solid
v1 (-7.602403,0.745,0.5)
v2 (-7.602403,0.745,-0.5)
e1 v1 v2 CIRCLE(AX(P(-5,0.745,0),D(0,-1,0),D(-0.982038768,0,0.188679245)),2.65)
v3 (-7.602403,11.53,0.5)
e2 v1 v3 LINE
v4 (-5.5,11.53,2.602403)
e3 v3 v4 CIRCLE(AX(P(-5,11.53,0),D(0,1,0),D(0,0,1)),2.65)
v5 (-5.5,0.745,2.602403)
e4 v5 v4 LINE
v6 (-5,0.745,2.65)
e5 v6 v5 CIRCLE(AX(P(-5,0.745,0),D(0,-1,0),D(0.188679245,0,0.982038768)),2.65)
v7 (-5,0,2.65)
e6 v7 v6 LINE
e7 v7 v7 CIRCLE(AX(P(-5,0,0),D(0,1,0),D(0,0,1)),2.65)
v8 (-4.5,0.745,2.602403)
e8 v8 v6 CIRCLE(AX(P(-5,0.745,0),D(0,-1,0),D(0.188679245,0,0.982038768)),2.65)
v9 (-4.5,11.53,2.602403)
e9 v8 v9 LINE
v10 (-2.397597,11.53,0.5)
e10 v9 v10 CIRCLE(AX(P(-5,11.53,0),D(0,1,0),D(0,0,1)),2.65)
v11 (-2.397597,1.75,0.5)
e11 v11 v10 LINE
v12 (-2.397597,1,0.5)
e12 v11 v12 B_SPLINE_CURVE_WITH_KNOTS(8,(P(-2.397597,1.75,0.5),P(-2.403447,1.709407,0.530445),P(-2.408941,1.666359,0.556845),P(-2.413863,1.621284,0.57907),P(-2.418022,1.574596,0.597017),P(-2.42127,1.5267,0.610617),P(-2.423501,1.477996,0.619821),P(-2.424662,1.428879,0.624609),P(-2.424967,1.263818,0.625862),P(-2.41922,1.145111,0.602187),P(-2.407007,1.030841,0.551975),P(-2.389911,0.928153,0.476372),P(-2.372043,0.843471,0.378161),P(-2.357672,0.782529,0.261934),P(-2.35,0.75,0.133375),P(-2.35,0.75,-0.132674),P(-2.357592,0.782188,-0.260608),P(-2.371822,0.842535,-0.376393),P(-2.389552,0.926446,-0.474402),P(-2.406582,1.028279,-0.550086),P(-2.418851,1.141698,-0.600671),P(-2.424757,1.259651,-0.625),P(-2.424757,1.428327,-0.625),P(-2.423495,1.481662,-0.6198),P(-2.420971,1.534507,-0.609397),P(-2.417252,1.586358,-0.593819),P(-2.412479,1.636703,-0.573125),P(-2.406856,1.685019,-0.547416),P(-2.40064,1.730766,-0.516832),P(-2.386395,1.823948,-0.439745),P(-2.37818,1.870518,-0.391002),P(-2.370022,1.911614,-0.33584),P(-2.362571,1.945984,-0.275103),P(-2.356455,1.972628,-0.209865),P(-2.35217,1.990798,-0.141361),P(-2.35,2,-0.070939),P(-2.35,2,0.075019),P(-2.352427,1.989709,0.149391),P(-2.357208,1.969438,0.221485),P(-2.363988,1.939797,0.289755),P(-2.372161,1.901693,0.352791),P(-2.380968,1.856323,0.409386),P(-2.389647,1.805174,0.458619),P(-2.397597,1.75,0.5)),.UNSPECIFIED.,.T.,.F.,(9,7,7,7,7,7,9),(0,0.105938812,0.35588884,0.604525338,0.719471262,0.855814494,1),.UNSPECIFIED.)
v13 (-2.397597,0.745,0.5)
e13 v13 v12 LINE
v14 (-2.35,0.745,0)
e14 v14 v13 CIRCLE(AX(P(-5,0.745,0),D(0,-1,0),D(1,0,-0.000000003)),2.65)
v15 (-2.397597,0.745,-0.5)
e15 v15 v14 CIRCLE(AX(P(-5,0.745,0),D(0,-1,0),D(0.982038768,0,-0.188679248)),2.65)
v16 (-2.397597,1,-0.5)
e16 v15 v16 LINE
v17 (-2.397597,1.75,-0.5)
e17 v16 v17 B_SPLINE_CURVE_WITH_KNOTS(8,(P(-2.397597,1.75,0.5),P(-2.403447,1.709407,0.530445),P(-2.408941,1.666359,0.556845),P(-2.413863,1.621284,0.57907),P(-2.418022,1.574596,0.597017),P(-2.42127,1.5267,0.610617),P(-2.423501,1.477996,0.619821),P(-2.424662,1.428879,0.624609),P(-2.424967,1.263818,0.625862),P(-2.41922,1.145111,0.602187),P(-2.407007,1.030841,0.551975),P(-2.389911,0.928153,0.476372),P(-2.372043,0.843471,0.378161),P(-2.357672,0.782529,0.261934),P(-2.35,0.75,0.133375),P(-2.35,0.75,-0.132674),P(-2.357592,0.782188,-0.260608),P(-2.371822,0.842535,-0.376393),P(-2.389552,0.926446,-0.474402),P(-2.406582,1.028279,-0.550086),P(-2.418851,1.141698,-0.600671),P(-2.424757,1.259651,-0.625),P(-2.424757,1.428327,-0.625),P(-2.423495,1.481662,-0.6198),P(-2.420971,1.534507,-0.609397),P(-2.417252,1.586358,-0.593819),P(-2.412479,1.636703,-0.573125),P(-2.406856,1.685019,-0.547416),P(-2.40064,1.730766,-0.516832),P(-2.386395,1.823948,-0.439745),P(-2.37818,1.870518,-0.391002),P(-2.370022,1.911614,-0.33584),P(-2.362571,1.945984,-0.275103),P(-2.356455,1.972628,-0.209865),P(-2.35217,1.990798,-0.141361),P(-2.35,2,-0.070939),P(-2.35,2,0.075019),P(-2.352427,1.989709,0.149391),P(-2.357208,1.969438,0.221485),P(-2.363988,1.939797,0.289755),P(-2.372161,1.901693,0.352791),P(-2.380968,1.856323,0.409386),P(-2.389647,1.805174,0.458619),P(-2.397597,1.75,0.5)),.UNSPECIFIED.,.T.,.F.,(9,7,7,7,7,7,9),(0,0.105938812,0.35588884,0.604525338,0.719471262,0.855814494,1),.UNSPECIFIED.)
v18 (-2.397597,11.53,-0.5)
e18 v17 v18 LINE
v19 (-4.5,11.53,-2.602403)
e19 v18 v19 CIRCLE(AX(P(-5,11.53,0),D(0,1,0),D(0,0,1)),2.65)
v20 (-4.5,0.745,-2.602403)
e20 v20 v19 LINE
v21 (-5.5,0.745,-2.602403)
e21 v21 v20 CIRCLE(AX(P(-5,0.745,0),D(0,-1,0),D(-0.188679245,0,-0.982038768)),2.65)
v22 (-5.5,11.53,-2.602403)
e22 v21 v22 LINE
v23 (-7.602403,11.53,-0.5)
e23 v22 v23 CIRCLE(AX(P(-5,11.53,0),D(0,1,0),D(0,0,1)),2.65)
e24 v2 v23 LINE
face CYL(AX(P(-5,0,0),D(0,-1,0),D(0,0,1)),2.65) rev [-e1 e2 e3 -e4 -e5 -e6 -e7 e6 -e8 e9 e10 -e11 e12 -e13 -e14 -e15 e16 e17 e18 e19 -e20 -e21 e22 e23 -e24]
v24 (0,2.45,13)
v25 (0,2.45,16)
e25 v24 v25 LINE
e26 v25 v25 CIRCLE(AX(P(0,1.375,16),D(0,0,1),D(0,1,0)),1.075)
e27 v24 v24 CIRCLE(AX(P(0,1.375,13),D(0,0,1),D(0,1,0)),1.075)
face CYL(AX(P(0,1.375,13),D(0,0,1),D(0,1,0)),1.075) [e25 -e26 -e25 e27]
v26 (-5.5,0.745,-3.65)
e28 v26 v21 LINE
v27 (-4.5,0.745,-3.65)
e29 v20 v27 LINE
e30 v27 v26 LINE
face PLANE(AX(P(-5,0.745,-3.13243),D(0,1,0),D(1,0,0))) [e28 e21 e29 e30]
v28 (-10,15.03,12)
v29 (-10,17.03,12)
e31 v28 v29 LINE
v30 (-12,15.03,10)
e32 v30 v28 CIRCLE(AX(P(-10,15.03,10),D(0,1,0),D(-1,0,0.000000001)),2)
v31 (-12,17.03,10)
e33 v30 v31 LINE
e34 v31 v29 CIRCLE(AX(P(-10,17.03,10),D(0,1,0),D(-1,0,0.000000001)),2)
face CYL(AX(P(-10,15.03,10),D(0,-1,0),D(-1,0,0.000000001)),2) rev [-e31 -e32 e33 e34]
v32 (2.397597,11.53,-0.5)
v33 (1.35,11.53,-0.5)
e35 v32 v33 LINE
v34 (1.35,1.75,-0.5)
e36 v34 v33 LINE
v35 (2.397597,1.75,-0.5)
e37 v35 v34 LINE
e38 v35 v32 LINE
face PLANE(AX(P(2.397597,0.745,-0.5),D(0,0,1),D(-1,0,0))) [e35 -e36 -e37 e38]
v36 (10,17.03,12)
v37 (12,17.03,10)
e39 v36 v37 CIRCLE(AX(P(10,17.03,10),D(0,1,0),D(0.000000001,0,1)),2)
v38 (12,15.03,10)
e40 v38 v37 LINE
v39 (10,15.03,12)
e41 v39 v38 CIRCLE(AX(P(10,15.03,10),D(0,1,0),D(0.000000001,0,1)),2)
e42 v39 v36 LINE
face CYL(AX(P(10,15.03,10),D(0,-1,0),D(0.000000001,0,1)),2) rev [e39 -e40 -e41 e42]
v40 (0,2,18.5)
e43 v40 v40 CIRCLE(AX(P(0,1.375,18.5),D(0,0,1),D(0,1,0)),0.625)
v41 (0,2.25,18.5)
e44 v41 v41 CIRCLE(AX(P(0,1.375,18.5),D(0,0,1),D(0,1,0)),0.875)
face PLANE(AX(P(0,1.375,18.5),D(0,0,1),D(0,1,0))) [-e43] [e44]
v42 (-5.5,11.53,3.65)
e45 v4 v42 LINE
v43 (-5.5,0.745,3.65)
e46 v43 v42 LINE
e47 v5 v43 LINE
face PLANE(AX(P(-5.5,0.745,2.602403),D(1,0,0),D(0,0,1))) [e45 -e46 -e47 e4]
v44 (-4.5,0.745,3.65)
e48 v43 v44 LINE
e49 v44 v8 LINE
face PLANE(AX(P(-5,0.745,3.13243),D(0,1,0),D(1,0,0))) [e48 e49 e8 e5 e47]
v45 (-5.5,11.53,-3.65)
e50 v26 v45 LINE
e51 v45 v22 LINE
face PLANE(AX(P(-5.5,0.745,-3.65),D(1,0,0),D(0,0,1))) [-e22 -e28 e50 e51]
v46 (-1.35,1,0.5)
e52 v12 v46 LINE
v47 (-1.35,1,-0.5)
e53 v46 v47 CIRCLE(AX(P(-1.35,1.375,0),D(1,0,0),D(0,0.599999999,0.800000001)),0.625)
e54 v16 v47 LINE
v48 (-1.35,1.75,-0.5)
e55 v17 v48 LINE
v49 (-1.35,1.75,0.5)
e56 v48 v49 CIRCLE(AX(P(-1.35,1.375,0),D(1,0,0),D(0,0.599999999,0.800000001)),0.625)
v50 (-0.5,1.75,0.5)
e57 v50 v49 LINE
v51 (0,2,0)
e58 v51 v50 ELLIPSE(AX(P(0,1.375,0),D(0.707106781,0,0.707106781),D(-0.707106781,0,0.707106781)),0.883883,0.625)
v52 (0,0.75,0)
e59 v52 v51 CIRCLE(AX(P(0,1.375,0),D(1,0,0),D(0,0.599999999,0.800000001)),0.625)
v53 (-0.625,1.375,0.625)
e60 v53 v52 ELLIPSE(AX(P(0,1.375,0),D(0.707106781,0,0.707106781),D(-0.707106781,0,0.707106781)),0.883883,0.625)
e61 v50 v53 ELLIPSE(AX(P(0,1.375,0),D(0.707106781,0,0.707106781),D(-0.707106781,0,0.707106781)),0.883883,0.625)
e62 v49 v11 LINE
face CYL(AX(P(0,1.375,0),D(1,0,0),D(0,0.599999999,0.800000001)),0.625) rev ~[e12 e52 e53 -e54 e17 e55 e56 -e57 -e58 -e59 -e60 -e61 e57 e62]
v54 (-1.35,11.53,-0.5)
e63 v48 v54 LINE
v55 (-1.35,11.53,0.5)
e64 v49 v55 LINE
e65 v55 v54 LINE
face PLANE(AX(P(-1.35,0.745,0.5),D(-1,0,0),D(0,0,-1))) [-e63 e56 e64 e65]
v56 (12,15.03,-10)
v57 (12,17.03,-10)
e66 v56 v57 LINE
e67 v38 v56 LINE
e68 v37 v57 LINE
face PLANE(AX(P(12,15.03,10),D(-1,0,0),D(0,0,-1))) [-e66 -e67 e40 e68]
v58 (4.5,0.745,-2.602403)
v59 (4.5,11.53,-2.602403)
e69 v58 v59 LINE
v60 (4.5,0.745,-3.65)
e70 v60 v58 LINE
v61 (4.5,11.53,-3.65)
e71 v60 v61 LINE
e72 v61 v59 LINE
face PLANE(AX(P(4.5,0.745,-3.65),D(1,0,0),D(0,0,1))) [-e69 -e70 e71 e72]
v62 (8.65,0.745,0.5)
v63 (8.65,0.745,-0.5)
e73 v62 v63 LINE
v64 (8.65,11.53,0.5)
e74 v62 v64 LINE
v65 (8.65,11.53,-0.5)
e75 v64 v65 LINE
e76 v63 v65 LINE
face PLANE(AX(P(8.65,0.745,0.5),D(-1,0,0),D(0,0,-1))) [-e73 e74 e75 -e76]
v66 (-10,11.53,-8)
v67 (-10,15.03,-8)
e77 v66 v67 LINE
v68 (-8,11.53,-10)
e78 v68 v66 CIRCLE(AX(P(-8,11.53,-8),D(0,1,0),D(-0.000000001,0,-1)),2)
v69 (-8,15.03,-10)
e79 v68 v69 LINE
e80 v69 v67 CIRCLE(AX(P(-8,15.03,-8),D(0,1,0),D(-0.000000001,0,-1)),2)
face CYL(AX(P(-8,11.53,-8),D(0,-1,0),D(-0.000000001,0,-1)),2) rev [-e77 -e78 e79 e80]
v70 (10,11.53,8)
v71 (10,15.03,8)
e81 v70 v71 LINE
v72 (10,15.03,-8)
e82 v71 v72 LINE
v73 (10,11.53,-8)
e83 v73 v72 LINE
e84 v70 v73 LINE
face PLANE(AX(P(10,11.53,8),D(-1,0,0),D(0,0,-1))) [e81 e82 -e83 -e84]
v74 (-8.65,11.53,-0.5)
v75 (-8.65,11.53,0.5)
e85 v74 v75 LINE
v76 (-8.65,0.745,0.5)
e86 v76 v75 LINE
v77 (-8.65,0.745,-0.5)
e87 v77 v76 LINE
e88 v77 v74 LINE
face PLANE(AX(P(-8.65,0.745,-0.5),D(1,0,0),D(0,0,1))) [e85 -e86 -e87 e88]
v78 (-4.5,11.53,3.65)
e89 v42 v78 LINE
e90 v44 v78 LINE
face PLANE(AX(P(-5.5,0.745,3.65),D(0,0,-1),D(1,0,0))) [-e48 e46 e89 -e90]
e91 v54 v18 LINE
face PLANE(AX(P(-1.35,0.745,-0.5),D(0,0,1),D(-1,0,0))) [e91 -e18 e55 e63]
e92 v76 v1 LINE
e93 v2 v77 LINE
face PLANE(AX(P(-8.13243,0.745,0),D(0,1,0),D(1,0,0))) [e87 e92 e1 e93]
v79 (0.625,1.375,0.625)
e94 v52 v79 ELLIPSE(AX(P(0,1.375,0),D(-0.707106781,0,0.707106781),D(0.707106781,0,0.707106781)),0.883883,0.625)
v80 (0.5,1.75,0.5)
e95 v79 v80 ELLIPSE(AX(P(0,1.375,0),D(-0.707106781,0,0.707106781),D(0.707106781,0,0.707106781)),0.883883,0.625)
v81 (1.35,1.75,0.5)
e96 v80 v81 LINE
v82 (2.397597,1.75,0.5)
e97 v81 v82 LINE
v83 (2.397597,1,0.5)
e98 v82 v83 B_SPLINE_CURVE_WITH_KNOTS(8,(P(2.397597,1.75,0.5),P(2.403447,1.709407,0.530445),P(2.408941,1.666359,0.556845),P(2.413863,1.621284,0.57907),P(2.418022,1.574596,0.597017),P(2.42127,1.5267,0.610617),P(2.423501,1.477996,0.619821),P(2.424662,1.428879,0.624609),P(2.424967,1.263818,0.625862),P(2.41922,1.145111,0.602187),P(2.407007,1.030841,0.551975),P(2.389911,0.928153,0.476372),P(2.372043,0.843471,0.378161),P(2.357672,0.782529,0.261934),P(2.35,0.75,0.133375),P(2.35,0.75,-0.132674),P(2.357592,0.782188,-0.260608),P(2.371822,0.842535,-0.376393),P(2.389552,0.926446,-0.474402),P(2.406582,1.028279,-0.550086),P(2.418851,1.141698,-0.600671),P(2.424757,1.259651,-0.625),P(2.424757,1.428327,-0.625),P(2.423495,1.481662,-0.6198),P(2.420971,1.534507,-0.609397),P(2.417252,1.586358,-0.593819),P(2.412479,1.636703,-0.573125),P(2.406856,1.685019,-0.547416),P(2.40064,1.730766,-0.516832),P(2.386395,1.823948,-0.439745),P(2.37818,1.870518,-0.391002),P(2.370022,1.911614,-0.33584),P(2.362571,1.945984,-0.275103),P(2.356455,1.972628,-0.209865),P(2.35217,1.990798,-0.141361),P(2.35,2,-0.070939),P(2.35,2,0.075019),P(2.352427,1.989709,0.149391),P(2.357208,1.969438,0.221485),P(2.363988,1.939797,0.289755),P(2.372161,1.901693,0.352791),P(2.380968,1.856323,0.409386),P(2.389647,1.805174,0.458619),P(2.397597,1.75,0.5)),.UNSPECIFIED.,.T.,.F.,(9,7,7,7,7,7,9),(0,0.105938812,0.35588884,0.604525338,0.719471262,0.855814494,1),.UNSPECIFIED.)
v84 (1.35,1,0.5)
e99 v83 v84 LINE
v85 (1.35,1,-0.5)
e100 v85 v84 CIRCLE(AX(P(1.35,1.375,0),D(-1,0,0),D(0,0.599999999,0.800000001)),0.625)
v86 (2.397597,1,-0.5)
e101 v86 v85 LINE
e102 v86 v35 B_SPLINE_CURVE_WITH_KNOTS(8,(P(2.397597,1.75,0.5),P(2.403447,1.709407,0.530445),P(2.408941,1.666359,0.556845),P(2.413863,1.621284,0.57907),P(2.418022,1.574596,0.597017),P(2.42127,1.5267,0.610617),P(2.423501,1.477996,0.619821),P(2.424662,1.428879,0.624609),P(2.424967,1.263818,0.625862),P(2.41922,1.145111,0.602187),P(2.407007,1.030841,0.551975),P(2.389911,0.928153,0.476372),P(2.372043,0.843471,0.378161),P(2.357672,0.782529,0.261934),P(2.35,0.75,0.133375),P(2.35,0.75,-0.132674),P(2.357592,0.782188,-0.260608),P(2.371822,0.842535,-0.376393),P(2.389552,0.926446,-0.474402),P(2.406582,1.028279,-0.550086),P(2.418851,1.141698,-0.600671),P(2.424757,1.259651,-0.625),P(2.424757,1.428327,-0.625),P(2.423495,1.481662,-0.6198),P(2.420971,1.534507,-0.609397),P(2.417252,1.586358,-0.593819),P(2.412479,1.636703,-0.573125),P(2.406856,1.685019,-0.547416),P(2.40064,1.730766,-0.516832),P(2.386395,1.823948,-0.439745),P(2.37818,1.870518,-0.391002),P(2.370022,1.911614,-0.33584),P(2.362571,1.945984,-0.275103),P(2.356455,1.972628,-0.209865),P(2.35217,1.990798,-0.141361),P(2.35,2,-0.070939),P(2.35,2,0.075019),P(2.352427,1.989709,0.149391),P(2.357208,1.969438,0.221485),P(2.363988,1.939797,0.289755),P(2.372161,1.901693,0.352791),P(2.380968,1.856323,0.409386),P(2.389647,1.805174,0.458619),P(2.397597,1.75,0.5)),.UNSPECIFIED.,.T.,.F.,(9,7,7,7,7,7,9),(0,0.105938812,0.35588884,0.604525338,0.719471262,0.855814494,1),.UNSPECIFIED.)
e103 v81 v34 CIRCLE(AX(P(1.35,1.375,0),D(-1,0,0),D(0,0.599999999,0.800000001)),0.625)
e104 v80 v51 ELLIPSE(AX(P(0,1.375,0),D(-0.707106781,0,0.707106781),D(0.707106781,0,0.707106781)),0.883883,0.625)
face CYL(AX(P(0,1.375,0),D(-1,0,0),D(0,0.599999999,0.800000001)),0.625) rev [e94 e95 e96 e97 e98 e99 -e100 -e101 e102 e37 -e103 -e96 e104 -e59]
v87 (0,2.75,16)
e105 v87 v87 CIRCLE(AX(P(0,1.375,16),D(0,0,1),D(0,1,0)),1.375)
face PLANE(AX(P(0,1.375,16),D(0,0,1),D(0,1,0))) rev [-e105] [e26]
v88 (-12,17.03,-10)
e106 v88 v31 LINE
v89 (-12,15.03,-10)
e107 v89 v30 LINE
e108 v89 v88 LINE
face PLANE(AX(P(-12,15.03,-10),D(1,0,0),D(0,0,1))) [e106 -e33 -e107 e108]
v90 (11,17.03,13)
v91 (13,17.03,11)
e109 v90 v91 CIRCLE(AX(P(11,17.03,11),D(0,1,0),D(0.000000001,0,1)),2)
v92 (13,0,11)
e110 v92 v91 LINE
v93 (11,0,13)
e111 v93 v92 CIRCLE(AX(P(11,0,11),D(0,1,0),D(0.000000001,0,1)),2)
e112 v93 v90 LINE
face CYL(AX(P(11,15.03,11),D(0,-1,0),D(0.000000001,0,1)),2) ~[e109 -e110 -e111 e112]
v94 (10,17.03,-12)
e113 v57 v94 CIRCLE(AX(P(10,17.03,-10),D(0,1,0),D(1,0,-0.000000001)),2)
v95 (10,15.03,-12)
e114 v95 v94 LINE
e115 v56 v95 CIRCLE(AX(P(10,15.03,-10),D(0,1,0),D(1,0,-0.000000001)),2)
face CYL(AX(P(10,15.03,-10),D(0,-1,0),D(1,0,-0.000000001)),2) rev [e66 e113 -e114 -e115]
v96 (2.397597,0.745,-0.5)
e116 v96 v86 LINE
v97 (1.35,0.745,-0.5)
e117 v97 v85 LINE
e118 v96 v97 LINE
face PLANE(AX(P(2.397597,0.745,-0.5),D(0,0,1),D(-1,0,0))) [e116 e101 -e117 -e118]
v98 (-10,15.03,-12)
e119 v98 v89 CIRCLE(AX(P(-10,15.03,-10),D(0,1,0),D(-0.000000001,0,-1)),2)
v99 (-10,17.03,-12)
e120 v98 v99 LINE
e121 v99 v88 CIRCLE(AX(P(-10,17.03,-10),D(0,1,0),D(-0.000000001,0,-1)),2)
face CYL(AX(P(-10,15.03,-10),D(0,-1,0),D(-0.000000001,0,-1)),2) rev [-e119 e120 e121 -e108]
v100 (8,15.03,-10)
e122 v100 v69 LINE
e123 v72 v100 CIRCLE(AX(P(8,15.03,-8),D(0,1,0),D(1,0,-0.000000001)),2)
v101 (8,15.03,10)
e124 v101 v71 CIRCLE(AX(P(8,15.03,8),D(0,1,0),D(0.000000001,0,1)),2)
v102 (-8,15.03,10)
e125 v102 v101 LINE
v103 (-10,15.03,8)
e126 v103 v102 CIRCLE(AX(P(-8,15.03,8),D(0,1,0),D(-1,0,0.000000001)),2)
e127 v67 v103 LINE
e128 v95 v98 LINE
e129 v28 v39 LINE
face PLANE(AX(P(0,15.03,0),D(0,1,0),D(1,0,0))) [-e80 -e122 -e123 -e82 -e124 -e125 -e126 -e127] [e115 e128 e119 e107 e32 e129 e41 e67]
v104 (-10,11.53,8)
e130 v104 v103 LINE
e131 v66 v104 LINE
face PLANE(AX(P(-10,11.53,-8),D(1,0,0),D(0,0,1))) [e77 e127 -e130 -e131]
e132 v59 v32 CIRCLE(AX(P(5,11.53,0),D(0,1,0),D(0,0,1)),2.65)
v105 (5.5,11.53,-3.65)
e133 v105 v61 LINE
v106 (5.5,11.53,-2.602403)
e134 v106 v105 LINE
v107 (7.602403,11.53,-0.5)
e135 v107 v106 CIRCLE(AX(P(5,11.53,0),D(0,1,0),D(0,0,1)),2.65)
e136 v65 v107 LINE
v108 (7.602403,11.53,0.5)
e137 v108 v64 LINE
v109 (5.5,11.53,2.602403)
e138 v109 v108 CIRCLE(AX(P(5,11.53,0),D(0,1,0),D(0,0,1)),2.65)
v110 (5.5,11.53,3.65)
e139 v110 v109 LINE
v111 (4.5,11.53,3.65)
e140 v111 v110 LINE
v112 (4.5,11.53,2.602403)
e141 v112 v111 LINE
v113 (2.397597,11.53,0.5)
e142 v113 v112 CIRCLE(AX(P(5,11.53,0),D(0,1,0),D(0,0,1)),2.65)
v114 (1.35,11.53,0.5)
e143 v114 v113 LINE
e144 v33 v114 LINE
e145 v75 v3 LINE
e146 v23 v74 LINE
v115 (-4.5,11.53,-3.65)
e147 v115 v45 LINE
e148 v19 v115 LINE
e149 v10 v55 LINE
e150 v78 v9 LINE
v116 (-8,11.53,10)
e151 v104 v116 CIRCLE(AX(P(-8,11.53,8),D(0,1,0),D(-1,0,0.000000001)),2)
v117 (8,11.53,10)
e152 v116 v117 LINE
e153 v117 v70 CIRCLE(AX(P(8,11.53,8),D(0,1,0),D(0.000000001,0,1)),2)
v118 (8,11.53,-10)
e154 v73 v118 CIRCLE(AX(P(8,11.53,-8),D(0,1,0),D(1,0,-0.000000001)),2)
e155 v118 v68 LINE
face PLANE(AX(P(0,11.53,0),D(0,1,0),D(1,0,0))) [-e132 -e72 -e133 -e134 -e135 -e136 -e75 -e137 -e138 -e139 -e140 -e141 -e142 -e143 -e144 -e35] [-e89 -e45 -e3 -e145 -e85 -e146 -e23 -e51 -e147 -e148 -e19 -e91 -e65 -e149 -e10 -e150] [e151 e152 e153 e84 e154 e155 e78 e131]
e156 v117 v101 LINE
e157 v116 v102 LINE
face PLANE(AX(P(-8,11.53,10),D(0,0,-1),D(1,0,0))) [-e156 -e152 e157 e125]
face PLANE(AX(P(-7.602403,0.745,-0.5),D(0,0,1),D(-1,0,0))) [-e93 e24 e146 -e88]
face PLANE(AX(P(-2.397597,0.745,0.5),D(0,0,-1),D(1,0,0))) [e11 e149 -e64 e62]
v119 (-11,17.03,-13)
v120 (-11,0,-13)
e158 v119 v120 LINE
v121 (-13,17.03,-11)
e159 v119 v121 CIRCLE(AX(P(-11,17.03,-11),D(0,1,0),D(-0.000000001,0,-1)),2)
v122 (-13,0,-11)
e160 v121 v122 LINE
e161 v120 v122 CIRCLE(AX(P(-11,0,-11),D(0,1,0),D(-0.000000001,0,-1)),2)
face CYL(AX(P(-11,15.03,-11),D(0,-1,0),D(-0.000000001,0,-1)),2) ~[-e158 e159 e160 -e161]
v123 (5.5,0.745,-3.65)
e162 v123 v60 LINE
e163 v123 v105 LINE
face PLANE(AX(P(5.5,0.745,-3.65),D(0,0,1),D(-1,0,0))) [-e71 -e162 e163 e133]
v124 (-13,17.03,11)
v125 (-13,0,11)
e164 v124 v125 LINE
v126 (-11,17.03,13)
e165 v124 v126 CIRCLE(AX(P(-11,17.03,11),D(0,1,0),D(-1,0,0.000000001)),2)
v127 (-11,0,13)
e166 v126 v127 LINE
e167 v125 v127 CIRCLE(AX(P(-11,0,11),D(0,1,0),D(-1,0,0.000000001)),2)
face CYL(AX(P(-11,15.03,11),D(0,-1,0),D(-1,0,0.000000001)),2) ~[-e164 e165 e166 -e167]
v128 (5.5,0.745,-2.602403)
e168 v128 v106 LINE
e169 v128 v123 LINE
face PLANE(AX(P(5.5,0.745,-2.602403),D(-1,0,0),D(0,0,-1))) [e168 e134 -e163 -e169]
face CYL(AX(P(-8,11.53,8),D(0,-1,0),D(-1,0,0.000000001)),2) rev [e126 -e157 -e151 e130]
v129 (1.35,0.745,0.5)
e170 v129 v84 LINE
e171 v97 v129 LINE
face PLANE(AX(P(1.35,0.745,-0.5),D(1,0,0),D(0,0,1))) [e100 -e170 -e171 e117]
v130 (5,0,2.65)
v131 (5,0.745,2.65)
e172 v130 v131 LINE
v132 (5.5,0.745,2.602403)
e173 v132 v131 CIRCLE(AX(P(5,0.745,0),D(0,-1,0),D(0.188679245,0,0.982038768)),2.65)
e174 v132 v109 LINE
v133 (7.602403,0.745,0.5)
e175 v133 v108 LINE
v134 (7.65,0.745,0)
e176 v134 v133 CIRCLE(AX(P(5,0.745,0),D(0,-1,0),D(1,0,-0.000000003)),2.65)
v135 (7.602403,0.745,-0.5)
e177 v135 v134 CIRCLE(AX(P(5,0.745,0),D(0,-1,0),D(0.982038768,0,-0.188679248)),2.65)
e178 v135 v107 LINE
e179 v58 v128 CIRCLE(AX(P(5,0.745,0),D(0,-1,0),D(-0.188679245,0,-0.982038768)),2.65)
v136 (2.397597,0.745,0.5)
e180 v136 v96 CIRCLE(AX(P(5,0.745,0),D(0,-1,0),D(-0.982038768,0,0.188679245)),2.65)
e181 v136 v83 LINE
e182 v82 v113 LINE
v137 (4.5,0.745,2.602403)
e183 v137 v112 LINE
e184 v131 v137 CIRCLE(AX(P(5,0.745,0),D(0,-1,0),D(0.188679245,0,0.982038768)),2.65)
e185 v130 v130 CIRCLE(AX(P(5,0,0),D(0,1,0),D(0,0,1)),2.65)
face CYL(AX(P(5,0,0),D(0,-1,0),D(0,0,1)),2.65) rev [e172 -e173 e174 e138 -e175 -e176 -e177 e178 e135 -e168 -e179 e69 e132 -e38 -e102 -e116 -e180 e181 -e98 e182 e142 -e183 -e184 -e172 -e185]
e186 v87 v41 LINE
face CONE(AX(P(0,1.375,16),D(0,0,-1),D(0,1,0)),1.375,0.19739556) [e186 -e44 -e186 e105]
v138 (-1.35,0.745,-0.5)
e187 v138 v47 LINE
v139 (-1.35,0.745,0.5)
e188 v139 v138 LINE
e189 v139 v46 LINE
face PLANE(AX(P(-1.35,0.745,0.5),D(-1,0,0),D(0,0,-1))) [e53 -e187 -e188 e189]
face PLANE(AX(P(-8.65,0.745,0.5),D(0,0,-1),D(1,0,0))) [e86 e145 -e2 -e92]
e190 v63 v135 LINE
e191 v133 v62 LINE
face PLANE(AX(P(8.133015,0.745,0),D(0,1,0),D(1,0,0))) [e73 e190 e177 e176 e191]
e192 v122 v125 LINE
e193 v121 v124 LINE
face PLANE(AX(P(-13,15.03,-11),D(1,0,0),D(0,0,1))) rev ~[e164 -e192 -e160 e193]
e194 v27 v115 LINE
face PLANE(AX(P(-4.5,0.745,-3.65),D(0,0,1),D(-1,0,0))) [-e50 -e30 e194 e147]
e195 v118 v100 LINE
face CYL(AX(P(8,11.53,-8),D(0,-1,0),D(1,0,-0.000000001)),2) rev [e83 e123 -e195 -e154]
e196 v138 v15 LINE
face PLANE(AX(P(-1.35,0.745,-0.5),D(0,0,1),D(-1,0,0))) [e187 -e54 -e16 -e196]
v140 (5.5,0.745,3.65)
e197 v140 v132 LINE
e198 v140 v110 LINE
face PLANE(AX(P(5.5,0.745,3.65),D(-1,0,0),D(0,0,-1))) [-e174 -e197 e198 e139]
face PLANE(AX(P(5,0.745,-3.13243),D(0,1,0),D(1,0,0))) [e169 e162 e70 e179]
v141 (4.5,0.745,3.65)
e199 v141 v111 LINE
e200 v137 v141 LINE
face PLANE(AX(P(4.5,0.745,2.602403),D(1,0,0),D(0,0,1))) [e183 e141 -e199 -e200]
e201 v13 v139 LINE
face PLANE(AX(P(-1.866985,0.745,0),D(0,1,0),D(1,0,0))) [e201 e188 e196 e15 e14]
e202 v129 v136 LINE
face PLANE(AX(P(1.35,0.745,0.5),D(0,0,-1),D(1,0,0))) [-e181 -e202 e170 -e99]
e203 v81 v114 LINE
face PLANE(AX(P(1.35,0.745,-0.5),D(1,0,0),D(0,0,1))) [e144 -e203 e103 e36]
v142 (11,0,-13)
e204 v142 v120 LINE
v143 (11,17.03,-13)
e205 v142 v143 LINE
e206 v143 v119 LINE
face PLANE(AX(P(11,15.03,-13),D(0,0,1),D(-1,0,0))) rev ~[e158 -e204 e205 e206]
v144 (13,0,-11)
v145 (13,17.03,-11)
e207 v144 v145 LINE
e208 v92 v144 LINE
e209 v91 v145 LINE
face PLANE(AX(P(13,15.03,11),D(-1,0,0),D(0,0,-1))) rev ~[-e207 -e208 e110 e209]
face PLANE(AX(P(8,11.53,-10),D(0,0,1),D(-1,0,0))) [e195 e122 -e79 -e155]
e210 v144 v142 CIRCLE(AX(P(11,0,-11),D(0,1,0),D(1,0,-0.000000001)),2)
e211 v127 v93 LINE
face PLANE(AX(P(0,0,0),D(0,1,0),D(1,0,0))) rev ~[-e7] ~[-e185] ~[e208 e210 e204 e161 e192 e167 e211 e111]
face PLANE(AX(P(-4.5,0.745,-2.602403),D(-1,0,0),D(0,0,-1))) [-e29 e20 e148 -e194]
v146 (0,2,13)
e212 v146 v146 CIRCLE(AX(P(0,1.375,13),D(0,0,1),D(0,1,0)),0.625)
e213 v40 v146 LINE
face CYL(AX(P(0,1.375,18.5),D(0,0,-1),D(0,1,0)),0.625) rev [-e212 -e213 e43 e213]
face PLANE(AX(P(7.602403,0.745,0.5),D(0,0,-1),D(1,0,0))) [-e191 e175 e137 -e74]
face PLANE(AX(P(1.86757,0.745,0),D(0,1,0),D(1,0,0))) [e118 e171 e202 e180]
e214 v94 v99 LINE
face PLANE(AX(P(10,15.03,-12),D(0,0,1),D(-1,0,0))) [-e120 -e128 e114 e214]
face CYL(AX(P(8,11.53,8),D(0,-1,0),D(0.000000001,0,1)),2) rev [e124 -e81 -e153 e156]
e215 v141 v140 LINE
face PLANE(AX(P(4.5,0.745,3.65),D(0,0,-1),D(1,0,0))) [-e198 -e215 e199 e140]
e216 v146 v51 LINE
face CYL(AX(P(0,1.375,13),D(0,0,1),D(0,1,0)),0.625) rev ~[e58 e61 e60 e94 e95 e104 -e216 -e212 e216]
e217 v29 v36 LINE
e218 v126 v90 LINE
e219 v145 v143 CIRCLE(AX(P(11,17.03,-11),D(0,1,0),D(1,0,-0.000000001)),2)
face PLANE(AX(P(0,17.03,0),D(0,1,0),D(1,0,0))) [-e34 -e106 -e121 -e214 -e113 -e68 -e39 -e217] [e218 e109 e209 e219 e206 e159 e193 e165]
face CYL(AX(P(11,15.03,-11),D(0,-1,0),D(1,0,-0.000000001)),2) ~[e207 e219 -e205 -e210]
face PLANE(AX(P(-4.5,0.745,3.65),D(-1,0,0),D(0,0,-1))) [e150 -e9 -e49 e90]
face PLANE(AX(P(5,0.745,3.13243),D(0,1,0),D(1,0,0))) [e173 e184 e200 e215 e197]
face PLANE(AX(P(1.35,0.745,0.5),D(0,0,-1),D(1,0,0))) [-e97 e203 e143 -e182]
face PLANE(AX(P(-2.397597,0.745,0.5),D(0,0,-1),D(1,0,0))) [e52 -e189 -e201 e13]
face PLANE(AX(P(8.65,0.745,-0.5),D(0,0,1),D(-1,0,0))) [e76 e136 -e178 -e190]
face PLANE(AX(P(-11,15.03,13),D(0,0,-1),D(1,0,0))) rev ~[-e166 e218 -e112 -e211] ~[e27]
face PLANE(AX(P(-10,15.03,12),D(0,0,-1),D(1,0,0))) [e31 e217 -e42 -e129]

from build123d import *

# Parameters (mm, degrees)
SKETCH1_R                      = 2.65
BOSS_EXTRUDE1_DEPTH            = 11.53
CUT_EXTRUDE1_START             = -10.785
CUT_EXTRUDE1_DEPTH             = 10.785
CUT_EXTRUDE3_REACH             = 27.381
SKETCH10_R                     = 0.625
CUT_EXTRUDE3_DIRECTION_2_REACH = 27.381
CUT_EXTRUDE2_REACH             = 33.272
SKETCH5_R                      = 0.625
BOSS_EXTRUDE2_DEPTH            = 3.5
BOSS_EXTRUDE3_DEPTH            = 2


with BuildPart() as part:
    # Sketch1 → Boss-Extrude1 (new body)
    with BuildSketch(Plane(origin=(0, 0, 0), x_dir=(1, 0, 0), z_dir=(0, 1, 0))):
        with BuildLine():
            Line((-11, -13), (11, -13))
            ThreePointArc((11, -13), (12.414213562, -12.414213562), (13, -11))
            Line((13, -11), (13, 11))
            ThreePointArc((13, 11), (12.414213562, 12.414213562), (11, 13))
            Line((11, 13), (-11, 13))
            ThreePointArc((-11, 13), (-12.414213562, 12.414213562), (-13, 11))
            Line((-13, 11), (-13, -11))
            ThreePointArc((-13, -11), (-12.414213562, -12.414213562), (-11, -13))
        make_face()
        with Locations(Location((5, 0, 0), (0, 0, 270))):
            Circle(SKETCH1_R, mode=Mode.SUBTRACT)
        with Locations(Location((-5, 0, 0), (0, 0, 270))):
            Circle(SKETCH1_R, mode=Mode.SUBTRACT)
    extrude(amount=BOSS_EXTRUDE1_DEPTH)

    # Sketch2 → Cut-Extrude1 (cut)
    with BuildSketch(Plane(origin=(0, 11.53, 0), x_dir=(1, 0, 0), z_dir=(0, 1, 0)).offset(CUT_EXTRUDE1_START)):
        with BuildLine():
            Line((4.5, 3.65), (4.5, 2.602402736))
            ThreePointArc((4.5, 2.602402736), (5, 2.65), (5.5, 2.602402736))
            Line((5.5, 2.602402736), (5.5, 3.65))
            Line((5.5, 3.65), (4.5, 3.65))
        make_face()
        with BuildLine():
            ThreePointArc((7.65, 0), (7.638073848, -0.251130195), (7.602402736, -0.5))
            Line((7.602402736, -0.5), (8.65, -0.5))
            Line((8.65, -0.5), (8.65, 0.5))
            Line((8.65, 0.5), (7.602402736, 0.5))
            ThreePointArc((7.602402736, 0.5), (7.638073848, 0.251130195), (7.65, 0))
        make_face()
        with BuildLine():
            Line((4.5, -2.602402736), (4.5, -3.65))
            Line((4.5, -3.65), (5.5, -3.65))
            Line((5.5, -3.65), (5.5, -2.602402736))
            ThreePointArc((5.5, -2.602402736), (5, -2.65), (4.5, -2.602402736))
        make_face()
        with BuildLine():
            Line((1.35, -0.5), (2.397597264, -0.5))
            ThreePointArc((2.397597264, -0.5), (2.35, 0), (2.397597264, 0.5))
            Line((2.397597264, 0.5), (1.35, 0.5))
            Line((1.35, 0.5), (1.35, -0.5))
        make_face()
        with BuildLine():
            ThreePointArc((-2.35, 0), (-2.361926152, -0.251130195), (-2.397597264, -0.5))
            Line((-2.397597264, -0.5), (-1.35, -0.5))
            Line((-1.35, -0.5), (-1.35, 0.5))
            Line((-1.35, 0.5), (-2.397597264, 0.5))
            ThreePointArc((-2.397597264, 0.5), (-2.361926152, 0.251130195), (-2.35, 0))
        make_face()
        with BuildLine():
            Line((-5.5, 3.65), (-5.5, 2.602402736))
            ThreePointArc((-5.5, 2.602402736), (-5, 2.65), (-4.5, 2.602402736))
            Line((-4.5, 2.602402736), (-4.5, 3.65))
            Line((-4.5, 3.65), (-5.5, 3.65))
        make_face()
        with BuildLine():
            Line((-8.65, 0.5), (-8.65, -0.5))
            Line((-8.65, -0.5), (-7.602402736, -0.5))
            ThreePointArc((-7.602402736, -0.5), (-7.65, 0), (-7.602402736, 0.5))
            Line((-7.602402736, 0.5), (-8.65, 0.5))
        make_face()
        with BuildLine():
            ThreePointArc((-4.5, -2.602402736), (-5, -2.65), (-5.5, -2.602402736))
            Line((-5.5, -2.602402736), (-5.5, -3.65))
            Line((-5.5, -3.65), (-4.5, -3.65))
            Line((-4.5, -3.65), (-4.5, -2.602402736))
        make_face()
    extrude(amount=CUT_EXTRUDE1_DEPTH, mode=Mode.SUBTRACT)

    # Sketch3 → Revolve1 (revolve)
    with BuildSketch(Plane(origin=(0, 0, 0), x_dir=(0, 0, -1), z_dir=(1, 0, 0)), mode=Mode.PRIVATE) as revolve1_sk:
        Polygon((-13, 0.3), (-16, 0.3), (-16, 0), (-18.5, 0.5), (-18.5, 0.75), (-13, 0.75), align=None)
    revolve(revolve1_sk.sketch.rotate(Axis((0, 1.375, 13), (0, 0, 1)), 180), axis=Axis((0, 1.375, 13), (0, 0, 1)))

    # Sketch10 → Cut-Extrude3 (cut, up to next)
    with BuildSketch(Plane(origin=(0, 0, 0), x_dir=(0, 0, -1), z_dir=(1, 0, 0)), mode=Mode.PRIVATE) as cut_extrude3_sk1:
        with Locations(Location((0, 1.375, 0), (0, 0, 143.130102406))):
            Circle(SKETCH10_R)
    cut_extrude3_tool1 = extrude(cut_extrude3_sk1.sketch, amount=-CUT_EXTRUDE3_REACH, mode=Mode.PRIVATE) & part.part
    add(cut_extrude3_tool1.solids().sort_by_distance((0, 1.375, 0))[0], mode=Mode.SUBTRACT)

    # Sketch10 → Cut-Extrude3 direction 2 (cut, up to next)
    with BuildSketch(Plane(origin=(0, 0, 0), x_dir=(0, 0, -1), z_dir=(1, 0, 0)), mode=Mode.PRIVATE) as cut_extrude3_direction_2_sk1:
        with Locations(Location((0, 1.375, 0), (0, 0, 143.130102406))):
            Circle(SKETCH10_R)
    cut_extrude3_direction_2_tool1 = extrude(cut_extrude3_direction_2_sk1.sketch, amount=CUT_EXTRUDE3_DIRECTION_2_REACH, mode=Mode.PRIVATE) & part.part
    add(cut_extrude3_direction_2_tool1.solids().sort_by_distance((0, 1.375, 0))[0], mode=Mode.SUBTRACT)

    # Sketch5 → Cut-Extrude2 (cut, up to next)
    with BuildSketch(Plane.XY.offset(13), mode=Mode.PRIVATE) as cut_extrude2_sk1:
        with Locations(Location((0, 1.375, 0), (0, 0, 90))):
            Circle(SKETCH5_R)
    cut_extrude2_tool1 = extrude(cut_extrude2_sk1.sketch, amount=-CUT_EXTRUDE2_REACH, mode=Mode.PRIVATE) & part.part
    add(cut_extrude2_tool1.solids().sort_by_distance((0, 1.375, 13))[0], mode=Mode.SUBTRACT)

    # Sketch6 → Boss-Extrude2 (add)
    with BuildSketch(Plane(origin=(0, 11.53, 0), x_dir=(1, 0, 0), z_dir=(0, 1, 0))):
        with BuildLine():
            Line((-11, -13), (11, -13))
            ThreePointArc((11, -13), (12.414213562, -12.414213562), (13, -11))
            Line((13, -11), (13, 11))
            ThreePointArc((13, 11), (12.414213562, 12.414213562), (11, 13))
            Line((11, 13), (-11, 13))
            ThreePointArc((-11, 13), (-12.414213562, 12.414213562), (-13, 11))
            Line((-13, 11), (-13, -11))
            ThreePointArc((-13, -11), (-12.414213562, -12.414213562), (-11, -13))
        make_face()
        with BuildLine():
            Line((-8, -10), (8, -10))
            ThreePointArc((8, -10), (9.414213562, -9.414213562), (10, -8))
            Line((10, -8), (10, 8))
            ThreePointArc((10, 8), (9.414213562, 9.414213562), (8, 10))
            Line((8, 10), (-8, 10))
            ThreePointArc((-8, 10), (-9.414213562, 9.414213562), (-10, 8))
            Line((-10, 8), (-10, -8))
            ThreePointArc((-10, -8), (-9.414213562, -9.414213562), (-8, -10))
        make_face(mode=Mode.SUBTRACT)
    extrude(amount=BOSS_EXTRUDE2_DEPTH)

    # Sketch8 → Boss-Extrude3 (add)
    with BuildSketch(Plane(origin=(0, 15.03, 0), x_dir=(1, 0, 0), z_dir=(0, 1, 0))):
        with BuildLine():
            Line((-11, -13), (11, -13))
            ThreePointArc((11, -13), (12.414213562, -12.414213562), (13, -11))
            Line((13, -11), (13, 11))
            ThreePointArc((13, 11), (12.414213562, 12.414213562), (11, 13))
            Line((11, 13), (-11, 13))
            ThreePointArc((-11, 13), (-12.414213562, 12.414213562), (-13, 11))
            Line((-13, 11), (-13, -11))
            ThreePointArc((-13, -11), (-12.414213562, -12.414213562), (-11, -13))
        make_face()
        with BuildLine():
            Line((-10, -12), (10, -12))
            ThreePointArc((10, -12), (11.414213562, -11.414213562), (12, -10))
            Line((12, -10), (12, 10))
            ThreePointArc((12, 10), (11.414213562, 11.414213562), (10, 12))
            Line((10, 12), (-10, 12))
            ThreePointArc((-10, 12), (-11.414213562, 11.414213562), (-12, 10))
            Line((-12, 10), (-12, -10))
            ThreePointArc((-12, -10), (-11.414213562, -11.414213562), (-10, -12))
        make_face(mode=Mode.SUBTRACT)
    extrude(amount=BOSS_EXTRUDE3_DEPTH)


solid = part.part
